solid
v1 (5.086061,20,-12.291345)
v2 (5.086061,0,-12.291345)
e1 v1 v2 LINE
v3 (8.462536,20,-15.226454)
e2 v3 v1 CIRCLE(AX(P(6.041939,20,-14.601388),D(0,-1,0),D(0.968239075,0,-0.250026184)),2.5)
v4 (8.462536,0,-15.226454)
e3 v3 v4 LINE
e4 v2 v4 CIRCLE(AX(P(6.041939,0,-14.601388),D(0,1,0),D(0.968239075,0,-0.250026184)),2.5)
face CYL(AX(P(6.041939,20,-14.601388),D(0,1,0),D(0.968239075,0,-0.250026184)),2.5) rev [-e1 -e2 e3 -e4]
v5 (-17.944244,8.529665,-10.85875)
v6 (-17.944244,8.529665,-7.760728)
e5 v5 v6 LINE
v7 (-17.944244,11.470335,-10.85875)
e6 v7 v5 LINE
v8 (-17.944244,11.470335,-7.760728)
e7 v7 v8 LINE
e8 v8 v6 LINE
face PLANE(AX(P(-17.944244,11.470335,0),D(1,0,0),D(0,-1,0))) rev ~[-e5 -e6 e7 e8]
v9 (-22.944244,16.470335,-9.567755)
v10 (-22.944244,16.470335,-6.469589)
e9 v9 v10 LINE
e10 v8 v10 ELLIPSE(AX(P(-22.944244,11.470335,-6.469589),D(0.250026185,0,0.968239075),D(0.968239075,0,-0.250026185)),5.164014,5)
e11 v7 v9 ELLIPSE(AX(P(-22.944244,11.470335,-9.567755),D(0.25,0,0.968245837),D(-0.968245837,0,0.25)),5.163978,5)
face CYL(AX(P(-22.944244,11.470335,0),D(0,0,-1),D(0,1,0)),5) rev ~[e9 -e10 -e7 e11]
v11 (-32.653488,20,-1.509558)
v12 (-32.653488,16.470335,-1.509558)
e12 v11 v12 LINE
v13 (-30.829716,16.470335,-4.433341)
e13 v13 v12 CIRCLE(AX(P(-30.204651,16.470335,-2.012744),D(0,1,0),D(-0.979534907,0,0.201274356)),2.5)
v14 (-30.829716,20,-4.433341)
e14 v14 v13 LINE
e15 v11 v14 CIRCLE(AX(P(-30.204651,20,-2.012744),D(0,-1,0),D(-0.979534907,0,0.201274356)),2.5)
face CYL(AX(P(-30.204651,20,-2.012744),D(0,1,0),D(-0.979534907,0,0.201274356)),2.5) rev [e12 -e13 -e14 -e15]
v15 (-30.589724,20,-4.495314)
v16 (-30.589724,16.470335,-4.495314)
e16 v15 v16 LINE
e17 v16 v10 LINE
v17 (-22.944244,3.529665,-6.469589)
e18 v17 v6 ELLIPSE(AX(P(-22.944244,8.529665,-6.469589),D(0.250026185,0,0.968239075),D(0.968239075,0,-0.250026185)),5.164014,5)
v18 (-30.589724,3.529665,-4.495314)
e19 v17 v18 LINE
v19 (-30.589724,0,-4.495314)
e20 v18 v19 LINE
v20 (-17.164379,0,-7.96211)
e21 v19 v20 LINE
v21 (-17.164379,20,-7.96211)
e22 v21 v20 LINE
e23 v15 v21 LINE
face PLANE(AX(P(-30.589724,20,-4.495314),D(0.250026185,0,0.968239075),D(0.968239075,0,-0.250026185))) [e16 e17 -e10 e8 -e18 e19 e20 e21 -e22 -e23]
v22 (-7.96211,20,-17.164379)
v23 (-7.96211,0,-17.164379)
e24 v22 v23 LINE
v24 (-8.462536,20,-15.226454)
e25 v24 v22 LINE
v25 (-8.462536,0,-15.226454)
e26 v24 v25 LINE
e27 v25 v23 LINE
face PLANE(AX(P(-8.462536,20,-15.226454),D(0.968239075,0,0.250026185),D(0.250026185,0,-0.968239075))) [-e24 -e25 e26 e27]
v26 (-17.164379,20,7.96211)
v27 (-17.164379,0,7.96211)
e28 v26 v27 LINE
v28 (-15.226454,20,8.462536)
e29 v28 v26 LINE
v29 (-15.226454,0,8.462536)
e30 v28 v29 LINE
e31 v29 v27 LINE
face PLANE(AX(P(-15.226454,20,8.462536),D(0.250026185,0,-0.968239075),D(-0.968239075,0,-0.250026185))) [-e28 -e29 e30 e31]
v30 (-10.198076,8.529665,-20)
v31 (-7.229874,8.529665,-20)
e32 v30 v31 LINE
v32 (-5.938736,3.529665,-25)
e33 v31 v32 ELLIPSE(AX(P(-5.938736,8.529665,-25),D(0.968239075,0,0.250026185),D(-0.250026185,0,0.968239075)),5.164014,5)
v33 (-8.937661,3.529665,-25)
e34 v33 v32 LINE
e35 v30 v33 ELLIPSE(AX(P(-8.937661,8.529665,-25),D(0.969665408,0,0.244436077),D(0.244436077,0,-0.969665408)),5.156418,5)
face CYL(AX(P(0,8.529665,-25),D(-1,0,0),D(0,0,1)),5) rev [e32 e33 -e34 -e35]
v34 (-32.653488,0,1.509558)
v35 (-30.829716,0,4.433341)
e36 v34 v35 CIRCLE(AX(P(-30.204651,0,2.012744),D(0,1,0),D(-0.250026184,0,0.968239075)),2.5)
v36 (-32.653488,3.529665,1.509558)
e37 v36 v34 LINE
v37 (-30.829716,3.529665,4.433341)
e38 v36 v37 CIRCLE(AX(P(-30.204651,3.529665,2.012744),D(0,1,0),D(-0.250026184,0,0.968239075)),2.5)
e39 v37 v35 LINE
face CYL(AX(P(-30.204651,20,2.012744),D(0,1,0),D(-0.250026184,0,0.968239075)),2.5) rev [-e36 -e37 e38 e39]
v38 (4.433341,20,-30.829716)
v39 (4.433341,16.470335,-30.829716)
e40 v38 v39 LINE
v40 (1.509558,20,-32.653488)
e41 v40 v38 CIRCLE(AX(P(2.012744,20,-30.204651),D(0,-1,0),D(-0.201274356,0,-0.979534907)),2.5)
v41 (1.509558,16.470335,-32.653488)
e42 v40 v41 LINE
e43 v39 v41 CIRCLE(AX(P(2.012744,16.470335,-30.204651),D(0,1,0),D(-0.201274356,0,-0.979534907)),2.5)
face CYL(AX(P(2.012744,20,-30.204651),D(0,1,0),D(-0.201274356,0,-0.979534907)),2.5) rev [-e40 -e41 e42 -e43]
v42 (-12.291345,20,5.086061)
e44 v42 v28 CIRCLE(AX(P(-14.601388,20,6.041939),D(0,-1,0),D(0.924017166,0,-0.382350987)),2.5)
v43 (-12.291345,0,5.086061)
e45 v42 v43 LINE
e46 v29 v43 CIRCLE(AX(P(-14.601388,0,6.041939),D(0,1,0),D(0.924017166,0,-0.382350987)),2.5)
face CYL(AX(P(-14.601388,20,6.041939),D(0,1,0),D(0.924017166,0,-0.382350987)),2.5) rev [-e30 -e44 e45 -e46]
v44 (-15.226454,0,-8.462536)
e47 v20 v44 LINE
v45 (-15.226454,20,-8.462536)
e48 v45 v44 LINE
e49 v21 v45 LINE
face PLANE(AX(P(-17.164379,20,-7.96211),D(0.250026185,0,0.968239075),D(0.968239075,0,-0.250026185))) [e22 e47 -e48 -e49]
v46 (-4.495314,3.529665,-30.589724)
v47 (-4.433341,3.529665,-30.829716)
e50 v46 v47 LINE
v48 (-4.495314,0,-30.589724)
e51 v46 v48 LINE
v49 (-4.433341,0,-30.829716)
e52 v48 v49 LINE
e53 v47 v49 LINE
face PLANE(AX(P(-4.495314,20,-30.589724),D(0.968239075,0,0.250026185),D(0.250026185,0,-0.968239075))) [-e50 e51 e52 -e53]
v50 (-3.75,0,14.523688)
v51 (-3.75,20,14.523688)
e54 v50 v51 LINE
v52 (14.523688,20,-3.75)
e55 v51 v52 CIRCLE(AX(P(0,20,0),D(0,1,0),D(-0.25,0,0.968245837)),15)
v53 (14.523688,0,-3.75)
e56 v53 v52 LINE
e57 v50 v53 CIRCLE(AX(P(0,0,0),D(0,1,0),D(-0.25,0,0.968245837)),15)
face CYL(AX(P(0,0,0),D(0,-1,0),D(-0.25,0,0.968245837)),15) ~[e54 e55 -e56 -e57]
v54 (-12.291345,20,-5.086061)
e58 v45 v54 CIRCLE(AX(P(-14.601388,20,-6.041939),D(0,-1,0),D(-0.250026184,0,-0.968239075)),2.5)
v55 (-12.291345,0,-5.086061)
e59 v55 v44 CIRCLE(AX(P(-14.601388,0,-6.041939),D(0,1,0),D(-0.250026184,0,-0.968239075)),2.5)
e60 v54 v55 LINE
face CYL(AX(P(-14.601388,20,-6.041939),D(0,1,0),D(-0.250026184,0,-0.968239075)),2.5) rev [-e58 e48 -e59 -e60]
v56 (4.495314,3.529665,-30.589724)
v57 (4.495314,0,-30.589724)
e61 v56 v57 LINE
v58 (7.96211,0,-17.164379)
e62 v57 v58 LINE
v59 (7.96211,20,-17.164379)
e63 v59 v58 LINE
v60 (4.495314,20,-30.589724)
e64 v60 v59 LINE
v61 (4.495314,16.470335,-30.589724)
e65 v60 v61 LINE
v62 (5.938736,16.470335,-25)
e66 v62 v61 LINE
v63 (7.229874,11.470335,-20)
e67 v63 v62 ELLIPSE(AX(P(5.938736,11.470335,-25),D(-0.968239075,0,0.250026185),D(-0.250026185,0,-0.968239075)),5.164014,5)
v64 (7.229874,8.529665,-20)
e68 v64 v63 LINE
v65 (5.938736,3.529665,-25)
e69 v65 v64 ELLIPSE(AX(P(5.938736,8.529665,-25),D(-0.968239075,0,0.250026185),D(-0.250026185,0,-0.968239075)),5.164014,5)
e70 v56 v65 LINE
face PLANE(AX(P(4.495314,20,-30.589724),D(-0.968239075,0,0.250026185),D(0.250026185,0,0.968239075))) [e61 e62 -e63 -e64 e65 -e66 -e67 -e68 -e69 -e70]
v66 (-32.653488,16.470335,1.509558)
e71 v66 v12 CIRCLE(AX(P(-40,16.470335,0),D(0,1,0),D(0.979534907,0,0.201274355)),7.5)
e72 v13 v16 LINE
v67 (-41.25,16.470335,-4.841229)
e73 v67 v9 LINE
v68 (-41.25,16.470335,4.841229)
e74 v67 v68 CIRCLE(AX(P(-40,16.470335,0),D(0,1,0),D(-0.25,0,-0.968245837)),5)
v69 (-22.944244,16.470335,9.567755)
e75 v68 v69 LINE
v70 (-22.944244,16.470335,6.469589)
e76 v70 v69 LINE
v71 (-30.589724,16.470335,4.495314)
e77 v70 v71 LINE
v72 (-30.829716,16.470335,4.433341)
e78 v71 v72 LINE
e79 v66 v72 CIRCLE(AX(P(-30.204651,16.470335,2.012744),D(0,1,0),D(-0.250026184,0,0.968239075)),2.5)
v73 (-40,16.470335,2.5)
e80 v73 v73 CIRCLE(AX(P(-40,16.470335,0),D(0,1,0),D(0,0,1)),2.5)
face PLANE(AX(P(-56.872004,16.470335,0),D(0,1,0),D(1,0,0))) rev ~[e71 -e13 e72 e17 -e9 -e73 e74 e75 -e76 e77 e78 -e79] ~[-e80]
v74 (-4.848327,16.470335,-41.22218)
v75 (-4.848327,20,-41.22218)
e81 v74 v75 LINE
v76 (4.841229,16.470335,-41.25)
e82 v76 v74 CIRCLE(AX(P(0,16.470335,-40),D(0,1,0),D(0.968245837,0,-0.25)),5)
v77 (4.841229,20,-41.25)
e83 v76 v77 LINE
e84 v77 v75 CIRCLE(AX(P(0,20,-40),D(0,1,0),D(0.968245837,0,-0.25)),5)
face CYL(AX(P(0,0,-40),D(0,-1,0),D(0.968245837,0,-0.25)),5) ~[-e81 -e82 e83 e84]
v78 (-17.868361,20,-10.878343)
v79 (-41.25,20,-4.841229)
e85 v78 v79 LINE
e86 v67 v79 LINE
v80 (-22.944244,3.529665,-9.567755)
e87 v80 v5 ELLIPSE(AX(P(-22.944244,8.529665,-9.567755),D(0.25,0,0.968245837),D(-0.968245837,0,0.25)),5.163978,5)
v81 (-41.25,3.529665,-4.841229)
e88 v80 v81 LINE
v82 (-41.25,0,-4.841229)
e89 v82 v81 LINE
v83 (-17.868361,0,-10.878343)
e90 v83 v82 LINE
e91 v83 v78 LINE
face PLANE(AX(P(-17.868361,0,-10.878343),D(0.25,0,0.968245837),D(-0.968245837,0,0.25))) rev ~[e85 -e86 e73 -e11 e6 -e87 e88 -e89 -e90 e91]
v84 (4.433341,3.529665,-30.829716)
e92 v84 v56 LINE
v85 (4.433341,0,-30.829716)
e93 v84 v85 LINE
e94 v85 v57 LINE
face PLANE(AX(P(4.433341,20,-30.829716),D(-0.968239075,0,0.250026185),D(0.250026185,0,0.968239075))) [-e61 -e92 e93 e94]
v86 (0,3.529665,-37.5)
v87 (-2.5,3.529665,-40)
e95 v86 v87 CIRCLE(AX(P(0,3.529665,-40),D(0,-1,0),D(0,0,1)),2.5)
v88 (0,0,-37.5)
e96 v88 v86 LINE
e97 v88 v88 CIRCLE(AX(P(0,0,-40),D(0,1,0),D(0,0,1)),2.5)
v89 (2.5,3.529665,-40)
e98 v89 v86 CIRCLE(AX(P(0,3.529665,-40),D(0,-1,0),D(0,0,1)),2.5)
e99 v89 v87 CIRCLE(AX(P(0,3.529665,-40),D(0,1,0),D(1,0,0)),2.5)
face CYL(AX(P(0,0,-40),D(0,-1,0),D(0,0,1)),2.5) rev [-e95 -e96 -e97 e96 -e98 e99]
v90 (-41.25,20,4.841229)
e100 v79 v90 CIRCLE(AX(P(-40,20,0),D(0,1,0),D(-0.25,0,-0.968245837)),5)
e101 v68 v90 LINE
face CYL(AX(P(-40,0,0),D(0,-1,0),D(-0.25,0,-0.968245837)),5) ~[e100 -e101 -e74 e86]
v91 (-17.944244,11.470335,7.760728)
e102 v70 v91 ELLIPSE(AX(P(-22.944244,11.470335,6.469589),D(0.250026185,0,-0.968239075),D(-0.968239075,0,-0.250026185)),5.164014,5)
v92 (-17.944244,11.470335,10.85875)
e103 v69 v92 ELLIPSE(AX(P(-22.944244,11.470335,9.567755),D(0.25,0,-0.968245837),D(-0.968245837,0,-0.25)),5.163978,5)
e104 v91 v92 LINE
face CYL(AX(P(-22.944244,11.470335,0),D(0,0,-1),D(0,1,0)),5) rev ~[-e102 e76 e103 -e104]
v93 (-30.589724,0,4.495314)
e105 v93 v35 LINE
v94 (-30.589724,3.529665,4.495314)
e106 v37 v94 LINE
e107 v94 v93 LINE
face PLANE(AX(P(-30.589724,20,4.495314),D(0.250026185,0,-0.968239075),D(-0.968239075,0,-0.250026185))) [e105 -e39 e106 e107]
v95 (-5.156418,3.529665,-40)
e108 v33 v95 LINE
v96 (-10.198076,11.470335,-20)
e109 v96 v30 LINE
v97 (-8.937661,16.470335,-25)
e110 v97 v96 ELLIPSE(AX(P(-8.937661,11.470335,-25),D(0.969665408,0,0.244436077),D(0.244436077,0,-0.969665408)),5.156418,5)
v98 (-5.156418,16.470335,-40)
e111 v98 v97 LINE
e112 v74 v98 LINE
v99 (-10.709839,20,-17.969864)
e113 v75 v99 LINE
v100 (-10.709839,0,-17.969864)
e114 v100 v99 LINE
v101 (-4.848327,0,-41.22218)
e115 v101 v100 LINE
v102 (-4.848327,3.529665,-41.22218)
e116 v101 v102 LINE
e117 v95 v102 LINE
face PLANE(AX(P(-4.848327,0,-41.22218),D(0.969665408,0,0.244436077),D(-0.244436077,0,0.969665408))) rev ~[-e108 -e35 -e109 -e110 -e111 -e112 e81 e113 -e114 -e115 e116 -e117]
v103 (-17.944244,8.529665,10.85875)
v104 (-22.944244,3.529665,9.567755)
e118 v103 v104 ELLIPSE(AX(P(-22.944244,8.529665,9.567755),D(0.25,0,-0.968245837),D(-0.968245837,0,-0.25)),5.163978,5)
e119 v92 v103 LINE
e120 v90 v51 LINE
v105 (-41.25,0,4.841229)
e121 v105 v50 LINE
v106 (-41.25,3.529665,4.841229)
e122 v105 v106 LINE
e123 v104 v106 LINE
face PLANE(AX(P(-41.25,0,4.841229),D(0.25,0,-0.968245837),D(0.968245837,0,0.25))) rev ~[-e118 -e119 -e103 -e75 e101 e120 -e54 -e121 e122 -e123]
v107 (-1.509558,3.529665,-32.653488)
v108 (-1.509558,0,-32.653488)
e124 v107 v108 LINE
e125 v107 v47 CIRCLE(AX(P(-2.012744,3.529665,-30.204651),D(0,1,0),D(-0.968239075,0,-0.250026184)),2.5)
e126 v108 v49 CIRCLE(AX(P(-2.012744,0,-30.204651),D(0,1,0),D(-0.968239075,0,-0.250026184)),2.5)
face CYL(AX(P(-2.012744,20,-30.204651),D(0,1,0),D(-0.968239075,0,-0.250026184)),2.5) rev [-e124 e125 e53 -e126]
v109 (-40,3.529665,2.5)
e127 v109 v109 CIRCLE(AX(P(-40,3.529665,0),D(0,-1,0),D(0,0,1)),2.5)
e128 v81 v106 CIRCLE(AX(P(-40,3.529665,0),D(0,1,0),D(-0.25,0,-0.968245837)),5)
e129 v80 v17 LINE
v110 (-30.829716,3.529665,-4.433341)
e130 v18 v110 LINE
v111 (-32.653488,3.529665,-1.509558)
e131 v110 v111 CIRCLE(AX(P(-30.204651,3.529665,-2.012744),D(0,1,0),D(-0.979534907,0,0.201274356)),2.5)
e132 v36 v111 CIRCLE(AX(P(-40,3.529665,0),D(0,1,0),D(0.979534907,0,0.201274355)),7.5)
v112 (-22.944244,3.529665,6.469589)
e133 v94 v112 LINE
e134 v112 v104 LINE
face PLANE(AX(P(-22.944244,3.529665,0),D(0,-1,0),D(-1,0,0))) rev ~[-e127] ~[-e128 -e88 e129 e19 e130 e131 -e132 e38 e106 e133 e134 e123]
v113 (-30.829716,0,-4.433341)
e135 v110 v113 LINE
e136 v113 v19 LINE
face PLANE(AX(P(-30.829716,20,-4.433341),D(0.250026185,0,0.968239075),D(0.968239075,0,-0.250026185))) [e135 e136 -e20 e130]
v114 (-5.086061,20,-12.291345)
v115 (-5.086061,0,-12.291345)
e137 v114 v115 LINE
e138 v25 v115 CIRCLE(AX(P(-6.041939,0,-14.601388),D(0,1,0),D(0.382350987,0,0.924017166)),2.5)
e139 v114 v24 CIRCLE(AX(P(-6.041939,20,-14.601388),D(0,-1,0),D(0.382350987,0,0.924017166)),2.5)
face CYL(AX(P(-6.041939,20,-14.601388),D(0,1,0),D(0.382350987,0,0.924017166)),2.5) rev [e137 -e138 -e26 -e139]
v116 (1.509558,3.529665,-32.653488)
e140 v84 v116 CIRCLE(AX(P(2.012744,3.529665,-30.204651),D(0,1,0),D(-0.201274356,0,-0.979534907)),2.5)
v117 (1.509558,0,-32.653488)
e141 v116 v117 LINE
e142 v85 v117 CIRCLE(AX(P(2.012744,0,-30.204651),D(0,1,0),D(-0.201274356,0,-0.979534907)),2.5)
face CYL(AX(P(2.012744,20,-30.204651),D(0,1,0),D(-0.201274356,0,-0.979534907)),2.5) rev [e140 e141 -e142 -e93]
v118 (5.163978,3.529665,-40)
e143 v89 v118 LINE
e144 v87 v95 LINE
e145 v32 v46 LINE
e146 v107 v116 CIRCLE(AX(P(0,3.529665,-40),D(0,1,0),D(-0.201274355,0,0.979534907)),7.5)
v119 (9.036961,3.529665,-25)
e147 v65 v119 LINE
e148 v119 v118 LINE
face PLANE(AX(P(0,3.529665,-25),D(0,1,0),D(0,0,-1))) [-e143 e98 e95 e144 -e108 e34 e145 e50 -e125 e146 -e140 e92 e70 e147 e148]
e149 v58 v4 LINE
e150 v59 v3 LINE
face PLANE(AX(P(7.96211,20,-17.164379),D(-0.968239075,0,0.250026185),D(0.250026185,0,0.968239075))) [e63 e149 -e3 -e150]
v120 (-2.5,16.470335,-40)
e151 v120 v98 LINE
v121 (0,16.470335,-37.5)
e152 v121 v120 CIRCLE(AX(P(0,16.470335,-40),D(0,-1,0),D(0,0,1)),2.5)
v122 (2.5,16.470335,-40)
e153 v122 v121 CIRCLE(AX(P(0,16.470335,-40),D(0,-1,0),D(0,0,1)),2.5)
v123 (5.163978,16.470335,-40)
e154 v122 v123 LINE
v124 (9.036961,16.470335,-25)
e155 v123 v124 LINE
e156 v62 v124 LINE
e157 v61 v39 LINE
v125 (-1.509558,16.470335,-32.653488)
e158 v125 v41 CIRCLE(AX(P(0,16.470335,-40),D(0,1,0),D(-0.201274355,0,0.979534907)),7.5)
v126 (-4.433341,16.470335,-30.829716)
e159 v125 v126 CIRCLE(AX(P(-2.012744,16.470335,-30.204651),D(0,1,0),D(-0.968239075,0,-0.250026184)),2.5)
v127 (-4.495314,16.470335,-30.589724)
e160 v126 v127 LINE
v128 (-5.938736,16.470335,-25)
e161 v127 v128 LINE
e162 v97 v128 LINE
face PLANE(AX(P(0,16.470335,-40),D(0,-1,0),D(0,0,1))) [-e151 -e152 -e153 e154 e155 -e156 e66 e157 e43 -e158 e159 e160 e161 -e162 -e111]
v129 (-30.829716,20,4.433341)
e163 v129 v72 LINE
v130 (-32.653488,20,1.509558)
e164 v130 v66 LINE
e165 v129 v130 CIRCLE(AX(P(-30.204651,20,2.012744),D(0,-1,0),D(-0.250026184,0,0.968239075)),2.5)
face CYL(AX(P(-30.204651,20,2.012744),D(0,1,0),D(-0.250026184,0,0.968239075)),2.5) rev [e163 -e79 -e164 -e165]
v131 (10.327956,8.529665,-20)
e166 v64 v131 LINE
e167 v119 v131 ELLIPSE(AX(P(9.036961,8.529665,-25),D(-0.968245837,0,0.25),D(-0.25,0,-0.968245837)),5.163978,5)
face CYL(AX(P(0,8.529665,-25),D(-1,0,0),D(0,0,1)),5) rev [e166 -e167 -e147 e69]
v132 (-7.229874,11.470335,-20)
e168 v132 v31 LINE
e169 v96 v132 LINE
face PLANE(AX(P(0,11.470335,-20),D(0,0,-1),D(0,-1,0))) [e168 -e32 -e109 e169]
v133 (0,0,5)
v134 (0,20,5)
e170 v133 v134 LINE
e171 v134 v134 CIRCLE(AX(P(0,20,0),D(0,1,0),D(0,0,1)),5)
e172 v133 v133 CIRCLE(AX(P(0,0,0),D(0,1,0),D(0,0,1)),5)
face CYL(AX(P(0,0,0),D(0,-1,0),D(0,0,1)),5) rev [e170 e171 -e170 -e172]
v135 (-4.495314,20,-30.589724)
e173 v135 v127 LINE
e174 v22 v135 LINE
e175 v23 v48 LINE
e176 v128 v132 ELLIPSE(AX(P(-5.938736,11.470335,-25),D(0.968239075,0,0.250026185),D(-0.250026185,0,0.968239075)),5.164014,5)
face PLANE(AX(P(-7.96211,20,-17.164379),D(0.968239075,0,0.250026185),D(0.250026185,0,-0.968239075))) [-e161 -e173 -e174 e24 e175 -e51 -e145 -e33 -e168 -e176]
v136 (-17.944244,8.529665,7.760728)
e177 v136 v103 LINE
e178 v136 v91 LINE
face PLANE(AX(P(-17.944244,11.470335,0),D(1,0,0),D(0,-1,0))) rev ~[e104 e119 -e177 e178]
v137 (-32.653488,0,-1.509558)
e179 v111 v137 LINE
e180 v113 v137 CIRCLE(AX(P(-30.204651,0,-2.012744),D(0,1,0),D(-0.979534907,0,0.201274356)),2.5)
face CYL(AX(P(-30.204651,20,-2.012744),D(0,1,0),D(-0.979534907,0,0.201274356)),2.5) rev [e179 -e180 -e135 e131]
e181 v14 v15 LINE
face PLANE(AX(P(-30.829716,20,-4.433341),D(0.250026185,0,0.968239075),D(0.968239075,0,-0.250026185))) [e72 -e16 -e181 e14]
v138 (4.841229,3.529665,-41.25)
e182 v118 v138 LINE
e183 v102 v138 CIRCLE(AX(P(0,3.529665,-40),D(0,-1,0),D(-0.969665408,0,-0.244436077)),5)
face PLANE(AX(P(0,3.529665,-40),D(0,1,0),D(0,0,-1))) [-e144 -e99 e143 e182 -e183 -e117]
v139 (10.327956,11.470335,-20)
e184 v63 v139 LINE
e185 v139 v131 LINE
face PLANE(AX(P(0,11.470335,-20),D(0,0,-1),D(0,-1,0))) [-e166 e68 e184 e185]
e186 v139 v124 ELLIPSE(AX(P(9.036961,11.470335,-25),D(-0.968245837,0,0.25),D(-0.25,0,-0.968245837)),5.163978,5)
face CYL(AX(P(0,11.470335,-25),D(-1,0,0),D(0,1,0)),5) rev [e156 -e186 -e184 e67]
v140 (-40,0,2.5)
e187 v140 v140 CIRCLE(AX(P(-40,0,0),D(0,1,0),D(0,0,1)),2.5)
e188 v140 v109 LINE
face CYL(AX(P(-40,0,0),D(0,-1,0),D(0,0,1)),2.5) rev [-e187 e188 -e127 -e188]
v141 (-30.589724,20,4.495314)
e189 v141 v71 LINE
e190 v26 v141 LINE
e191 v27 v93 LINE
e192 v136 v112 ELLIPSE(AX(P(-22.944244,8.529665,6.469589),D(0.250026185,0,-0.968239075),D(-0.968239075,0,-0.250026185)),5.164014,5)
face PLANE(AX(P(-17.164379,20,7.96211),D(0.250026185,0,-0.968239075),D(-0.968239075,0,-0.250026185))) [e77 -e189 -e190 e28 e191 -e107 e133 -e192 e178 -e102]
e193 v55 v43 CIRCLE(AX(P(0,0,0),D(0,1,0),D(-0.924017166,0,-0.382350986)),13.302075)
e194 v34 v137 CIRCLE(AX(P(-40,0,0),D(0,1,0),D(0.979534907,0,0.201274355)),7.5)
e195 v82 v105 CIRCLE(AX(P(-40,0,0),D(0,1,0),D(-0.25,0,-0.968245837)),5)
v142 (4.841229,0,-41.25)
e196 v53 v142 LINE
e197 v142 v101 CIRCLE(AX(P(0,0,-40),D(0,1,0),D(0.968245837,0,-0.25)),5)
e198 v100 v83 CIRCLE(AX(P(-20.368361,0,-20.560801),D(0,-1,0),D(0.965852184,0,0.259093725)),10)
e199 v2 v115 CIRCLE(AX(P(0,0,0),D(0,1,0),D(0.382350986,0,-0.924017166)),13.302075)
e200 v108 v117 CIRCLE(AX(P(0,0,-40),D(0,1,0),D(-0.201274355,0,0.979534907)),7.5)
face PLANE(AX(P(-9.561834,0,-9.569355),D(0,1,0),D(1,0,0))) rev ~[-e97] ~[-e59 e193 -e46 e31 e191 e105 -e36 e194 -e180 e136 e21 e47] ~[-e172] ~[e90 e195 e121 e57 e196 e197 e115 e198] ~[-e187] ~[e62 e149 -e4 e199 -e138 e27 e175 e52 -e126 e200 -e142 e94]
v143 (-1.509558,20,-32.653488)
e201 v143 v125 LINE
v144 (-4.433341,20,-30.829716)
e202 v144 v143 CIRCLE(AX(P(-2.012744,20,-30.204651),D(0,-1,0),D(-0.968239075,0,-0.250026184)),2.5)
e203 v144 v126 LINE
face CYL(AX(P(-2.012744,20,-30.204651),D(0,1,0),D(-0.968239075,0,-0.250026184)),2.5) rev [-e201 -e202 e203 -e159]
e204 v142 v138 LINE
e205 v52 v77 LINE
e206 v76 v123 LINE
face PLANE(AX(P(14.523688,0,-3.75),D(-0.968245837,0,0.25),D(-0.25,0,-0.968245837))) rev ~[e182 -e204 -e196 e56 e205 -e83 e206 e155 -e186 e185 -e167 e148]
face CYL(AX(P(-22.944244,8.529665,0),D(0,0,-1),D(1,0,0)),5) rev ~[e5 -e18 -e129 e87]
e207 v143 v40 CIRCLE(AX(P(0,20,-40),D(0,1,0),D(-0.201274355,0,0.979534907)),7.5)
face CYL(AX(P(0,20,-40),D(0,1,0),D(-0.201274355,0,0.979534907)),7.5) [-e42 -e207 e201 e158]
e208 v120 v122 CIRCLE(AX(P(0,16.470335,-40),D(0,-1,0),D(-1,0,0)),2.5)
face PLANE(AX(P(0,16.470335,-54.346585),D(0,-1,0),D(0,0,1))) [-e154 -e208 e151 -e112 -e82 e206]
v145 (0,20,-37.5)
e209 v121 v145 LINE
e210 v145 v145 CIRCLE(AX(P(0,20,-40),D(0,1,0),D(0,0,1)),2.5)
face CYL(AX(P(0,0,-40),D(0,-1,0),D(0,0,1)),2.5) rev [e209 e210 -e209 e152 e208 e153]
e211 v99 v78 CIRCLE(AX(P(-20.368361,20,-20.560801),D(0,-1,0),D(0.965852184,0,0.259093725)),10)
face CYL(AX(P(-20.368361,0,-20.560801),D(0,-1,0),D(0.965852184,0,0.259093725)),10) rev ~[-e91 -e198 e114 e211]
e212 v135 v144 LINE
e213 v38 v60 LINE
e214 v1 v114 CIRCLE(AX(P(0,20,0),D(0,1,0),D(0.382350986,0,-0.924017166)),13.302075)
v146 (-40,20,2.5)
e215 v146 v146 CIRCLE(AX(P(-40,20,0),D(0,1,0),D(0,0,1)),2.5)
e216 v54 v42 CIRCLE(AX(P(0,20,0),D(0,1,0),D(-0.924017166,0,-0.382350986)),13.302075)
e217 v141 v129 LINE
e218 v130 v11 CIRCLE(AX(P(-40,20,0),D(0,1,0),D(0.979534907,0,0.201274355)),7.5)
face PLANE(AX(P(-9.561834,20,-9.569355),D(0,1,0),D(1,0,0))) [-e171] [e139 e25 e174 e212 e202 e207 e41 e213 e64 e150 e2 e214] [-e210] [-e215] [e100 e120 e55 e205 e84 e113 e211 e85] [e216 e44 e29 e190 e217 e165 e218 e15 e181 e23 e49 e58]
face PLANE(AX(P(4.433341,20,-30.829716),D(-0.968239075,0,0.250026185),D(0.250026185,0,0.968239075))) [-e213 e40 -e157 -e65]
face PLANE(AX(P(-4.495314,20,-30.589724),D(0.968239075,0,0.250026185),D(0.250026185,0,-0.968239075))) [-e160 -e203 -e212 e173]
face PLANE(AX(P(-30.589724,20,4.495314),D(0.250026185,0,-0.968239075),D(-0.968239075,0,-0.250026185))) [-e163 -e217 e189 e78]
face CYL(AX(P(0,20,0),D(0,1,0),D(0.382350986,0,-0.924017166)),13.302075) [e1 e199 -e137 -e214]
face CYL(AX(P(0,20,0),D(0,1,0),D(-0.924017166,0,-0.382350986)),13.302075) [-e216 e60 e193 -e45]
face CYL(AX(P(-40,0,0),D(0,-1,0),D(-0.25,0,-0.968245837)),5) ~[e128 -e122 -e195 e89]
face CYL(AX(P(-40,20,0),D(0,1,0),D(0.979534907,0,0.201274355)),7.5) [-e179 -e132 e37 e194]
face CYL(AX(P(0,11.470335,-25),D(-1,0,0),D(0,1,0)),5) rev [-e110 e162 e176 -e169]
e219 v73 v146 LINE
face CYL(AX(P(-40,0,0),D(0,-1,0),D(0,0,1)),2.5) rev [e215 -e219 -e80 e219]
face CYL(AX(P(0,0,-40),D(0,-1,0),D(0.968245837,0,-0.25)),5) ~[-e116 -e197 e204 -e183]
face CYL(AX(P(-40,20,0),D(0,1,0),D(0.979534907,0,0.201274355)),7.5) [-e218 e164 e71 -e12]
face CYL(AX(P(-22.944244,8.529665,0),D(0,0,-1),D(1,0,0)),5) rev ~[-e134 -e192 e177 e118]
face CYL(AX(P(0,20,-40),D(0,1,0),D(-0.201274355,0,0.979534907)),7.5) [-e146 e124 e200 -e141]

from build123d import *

# Parameters (mm, degrees)
SKETCH1_R               = 5
SKETCH1_R_2             = 2.5
BOSS_EXTRUDE1_DEPTH     = 20
CUT_EXTRUDE1_DEPTH      = 73.947048844
CUT_EXTRUDE1_DEPTH_BACK = 73.947048844
CUT_EXTRUDE2_DEPTH      = 87.382039929
CUT_EXTRUDE2_DEPTH_BACK = 87.382039929
CUT_EXTRUDE3_DEPTH      = 67.708320321
CIRPATTERN1_COUNT       = 2
CIRPATTERN1_ANGLE       = 90


with BuildPart() as part:
    # Sketch1 → Boss-Extrude1 (new body)
    with BuildSketch(Plane(origin=(0, 0, 0), x_dir=(1, 0, 0), z_dir=(0, 1, 0))):
        with BuildLine():
            Line((-41.25, -4.841229183), (-3.75, -14.523687548))
            ThreePointArc((-3.75, -14.523687548), (10.606601718, -10.606601718), (14.523687548, 3.75))
            Line((14.523687548, 3.75), (4.841229183, 41.25))
            ThreePointArc((4.841229183, 41.25), (-0.014355404, 44.999979392), (-4.848327042, 41.222180386))
            Line((-4.848327042, 41.222180386), (-10.709838692, 17.969863651))
            ThreePointArc((-10.709838692, 17.969863651), (-13.330617196, 13.456564929), (-17.868360534, 10.878342533))
            Line((-17.868360534, 10.878342533), (-41.25, 4.841229183))
            ThreePointArc((-41.25, 4.841229183), (-45, 0), (-41.25, -4.841229183))
        make_face()
        with Locations(Location((0, 0, 0), (0, 0, 270))):
            Circle(SKETCH1_R, mode=Mode.SUBTRACT)
        with Locations(Location((0, 40, 0), (0, 0, 270))):
            Circle(SKETCH1_R_2, mode=Mode.SUBTRACT)
        with Locations(Location((-40, 0, 0), (0, 0, 270))):
            Circle(SKETCH1_R_2, mode=Mode.SUBTRACT)
    extrude(amount=BOSS_EXTRUDE1_DEPTH)

    # 3DSketch4 → Cut-Extrude1 (cut, two sides)
    with BuildSketch(Plane(origin=(0, 16.470335, -40), x_dir=(0, -0.36901261681753356, 0.9294243856438652), z_dir=(1, 0, 0))) as cut_extrude1_sk:
        with BuildLine():
            Line((0, 0), (13.941365785, -5.535189252))
            ThreePointArc((13.941365785, -5.535189252), (17.767783679, -5.478735371), (20.433550797, -2.733130408))
            Line((20.433550797, -2.733130408), (21.518695129, 0))
            ThreePointArc((21.518695129, 0), (21.462241248, 3.826417894), (18.716636285, 6.492185012))
            Line((18.716636285, 6.492185012), (4.7752705, 12.027374265))
            Line((4.7752705, 12.027374265), (-8.558795166, 17.321445025))
            Line((-8.558795166, 17.321445025), (-13.334065667, 5.294070761))
            Line((-13.334065667, 5.294070761), (0, 0))
        make_face()
    extrude(amount=CUT_EXTRUDE1_DEPTH, mode=Mode.SUBTRACT)
    extrude(cut_extrude1_sk.sketch, amount=-CUT_EXTRUDE1_DEPTH_BACK, mode=Mode.SUBTRACT)

    # 3DSketch5 → Cut-Extrude2 (cut, two sides)
    with BuildSketch(Plane(origin=(-56.872003502, 16.470335, 0), x_dir=(0.9798226496463329, -0.1998688951288811, 0), z_dir=(0, 0, -1))) as cut_extrude2_sk:
        with BuildLine():
            Line((0, 0), (33.243187397, -6.781103844))
            ThreePointArc((33.243187397, -6.781103844), (37.000084817, -6.052830051), (39.141645121, -2.881335071))
            Line((39.141645121, -2.881335071), (39.729393585, 0))
            ThreePointArc((39.729393585, 0), (39.001119792, 3.75689742), (35.829624813, 5.898457724))
            Line((35.829624813, 5.898457724), (2.586437415, 12.679561568))
            Line((2.586437415, 12.679561568), (0, 0))
        make_face()
    extrude(amount=CUT_EXTRUDE2_DEPTH, mode=Mode.SUBTRACT)
    extrude(cut_extrude2_sk.sketch, amount=-CUT_EXTRUDE2_DEPTH_BACK, mode=Mode.SUBTRACT)

    # Sketch2 → Cut-Extrude3 (cut, through all)
    with BuildSketch(Plane(origin=(0, 20, 0), x_dir=(1, 0, 0), z_dir=(0, 1, 0))):
        with BuildLine():
            Line((-30.589723784, 4.495313989), (-17.164379291, 7.962110305))
            Line((-17.164379291, 7.962110305), (-15.226453583, 8.462536474))
            ThreePointArc((-15.226453583, 8.462536474), (-12.714609551, 7.682081043), (-12.291345207, 5.086061319))
            ThreePointArc((-12.291345207, 5.086061319), (-13.302074527, 0), (-12.291345207, -5.086061319))
            ThreePointArc((-12.291345207, -5.086061319), (-12.714609551, -7.682081043), (-15.226453583, -8.462536474))
            Line((-15.226453583, -8.462536474), (-17.164379291, -7.962110305))
            Line((-17.164379291, -7.962110305), (-30.589723784, -4.495313989))
            Line((-30.589723784, -4.495313989), (-30.829716392, -4.433341241))
            ThreePointArc((-30.829716392, -4.433341241), (-32.325817378, -3.33586596), (-32.653488198, -1.509557665))
            ThreePointArc((-32.653488198, -1.509557665), (-32.5, 0), (-32.653488198, 1.509557665))
            ThreePointArc((-32.653488198, 1.509557665), (-32.325817378, 3.33586596), (-30.829716392, 4.433341241))
            Line((-30.829716392, 4.433341241), (-30.589723784, 4.495313989))
        make_face()
    cut_extrude3 = extrude(amount=-CUT_EXTRUDE3_DEPTH, mode=Mode.SUBTRACT)

    # CirPattern1: Cut-Extrude3 ×2 about axis
    cirpattern1_axis = Axis((0, 0, 0), (0, -1, 0))
    for i in range(1, CIRPATTERN1_COUNT):
        add(cut_extrude3.rotate(cirpattern1_axis, i * CIRPATTERN1_ANGLE / (CIRPATTERN1_COUNT - 1)), mode=Mode.SUBTRACT)


solid = part.part
